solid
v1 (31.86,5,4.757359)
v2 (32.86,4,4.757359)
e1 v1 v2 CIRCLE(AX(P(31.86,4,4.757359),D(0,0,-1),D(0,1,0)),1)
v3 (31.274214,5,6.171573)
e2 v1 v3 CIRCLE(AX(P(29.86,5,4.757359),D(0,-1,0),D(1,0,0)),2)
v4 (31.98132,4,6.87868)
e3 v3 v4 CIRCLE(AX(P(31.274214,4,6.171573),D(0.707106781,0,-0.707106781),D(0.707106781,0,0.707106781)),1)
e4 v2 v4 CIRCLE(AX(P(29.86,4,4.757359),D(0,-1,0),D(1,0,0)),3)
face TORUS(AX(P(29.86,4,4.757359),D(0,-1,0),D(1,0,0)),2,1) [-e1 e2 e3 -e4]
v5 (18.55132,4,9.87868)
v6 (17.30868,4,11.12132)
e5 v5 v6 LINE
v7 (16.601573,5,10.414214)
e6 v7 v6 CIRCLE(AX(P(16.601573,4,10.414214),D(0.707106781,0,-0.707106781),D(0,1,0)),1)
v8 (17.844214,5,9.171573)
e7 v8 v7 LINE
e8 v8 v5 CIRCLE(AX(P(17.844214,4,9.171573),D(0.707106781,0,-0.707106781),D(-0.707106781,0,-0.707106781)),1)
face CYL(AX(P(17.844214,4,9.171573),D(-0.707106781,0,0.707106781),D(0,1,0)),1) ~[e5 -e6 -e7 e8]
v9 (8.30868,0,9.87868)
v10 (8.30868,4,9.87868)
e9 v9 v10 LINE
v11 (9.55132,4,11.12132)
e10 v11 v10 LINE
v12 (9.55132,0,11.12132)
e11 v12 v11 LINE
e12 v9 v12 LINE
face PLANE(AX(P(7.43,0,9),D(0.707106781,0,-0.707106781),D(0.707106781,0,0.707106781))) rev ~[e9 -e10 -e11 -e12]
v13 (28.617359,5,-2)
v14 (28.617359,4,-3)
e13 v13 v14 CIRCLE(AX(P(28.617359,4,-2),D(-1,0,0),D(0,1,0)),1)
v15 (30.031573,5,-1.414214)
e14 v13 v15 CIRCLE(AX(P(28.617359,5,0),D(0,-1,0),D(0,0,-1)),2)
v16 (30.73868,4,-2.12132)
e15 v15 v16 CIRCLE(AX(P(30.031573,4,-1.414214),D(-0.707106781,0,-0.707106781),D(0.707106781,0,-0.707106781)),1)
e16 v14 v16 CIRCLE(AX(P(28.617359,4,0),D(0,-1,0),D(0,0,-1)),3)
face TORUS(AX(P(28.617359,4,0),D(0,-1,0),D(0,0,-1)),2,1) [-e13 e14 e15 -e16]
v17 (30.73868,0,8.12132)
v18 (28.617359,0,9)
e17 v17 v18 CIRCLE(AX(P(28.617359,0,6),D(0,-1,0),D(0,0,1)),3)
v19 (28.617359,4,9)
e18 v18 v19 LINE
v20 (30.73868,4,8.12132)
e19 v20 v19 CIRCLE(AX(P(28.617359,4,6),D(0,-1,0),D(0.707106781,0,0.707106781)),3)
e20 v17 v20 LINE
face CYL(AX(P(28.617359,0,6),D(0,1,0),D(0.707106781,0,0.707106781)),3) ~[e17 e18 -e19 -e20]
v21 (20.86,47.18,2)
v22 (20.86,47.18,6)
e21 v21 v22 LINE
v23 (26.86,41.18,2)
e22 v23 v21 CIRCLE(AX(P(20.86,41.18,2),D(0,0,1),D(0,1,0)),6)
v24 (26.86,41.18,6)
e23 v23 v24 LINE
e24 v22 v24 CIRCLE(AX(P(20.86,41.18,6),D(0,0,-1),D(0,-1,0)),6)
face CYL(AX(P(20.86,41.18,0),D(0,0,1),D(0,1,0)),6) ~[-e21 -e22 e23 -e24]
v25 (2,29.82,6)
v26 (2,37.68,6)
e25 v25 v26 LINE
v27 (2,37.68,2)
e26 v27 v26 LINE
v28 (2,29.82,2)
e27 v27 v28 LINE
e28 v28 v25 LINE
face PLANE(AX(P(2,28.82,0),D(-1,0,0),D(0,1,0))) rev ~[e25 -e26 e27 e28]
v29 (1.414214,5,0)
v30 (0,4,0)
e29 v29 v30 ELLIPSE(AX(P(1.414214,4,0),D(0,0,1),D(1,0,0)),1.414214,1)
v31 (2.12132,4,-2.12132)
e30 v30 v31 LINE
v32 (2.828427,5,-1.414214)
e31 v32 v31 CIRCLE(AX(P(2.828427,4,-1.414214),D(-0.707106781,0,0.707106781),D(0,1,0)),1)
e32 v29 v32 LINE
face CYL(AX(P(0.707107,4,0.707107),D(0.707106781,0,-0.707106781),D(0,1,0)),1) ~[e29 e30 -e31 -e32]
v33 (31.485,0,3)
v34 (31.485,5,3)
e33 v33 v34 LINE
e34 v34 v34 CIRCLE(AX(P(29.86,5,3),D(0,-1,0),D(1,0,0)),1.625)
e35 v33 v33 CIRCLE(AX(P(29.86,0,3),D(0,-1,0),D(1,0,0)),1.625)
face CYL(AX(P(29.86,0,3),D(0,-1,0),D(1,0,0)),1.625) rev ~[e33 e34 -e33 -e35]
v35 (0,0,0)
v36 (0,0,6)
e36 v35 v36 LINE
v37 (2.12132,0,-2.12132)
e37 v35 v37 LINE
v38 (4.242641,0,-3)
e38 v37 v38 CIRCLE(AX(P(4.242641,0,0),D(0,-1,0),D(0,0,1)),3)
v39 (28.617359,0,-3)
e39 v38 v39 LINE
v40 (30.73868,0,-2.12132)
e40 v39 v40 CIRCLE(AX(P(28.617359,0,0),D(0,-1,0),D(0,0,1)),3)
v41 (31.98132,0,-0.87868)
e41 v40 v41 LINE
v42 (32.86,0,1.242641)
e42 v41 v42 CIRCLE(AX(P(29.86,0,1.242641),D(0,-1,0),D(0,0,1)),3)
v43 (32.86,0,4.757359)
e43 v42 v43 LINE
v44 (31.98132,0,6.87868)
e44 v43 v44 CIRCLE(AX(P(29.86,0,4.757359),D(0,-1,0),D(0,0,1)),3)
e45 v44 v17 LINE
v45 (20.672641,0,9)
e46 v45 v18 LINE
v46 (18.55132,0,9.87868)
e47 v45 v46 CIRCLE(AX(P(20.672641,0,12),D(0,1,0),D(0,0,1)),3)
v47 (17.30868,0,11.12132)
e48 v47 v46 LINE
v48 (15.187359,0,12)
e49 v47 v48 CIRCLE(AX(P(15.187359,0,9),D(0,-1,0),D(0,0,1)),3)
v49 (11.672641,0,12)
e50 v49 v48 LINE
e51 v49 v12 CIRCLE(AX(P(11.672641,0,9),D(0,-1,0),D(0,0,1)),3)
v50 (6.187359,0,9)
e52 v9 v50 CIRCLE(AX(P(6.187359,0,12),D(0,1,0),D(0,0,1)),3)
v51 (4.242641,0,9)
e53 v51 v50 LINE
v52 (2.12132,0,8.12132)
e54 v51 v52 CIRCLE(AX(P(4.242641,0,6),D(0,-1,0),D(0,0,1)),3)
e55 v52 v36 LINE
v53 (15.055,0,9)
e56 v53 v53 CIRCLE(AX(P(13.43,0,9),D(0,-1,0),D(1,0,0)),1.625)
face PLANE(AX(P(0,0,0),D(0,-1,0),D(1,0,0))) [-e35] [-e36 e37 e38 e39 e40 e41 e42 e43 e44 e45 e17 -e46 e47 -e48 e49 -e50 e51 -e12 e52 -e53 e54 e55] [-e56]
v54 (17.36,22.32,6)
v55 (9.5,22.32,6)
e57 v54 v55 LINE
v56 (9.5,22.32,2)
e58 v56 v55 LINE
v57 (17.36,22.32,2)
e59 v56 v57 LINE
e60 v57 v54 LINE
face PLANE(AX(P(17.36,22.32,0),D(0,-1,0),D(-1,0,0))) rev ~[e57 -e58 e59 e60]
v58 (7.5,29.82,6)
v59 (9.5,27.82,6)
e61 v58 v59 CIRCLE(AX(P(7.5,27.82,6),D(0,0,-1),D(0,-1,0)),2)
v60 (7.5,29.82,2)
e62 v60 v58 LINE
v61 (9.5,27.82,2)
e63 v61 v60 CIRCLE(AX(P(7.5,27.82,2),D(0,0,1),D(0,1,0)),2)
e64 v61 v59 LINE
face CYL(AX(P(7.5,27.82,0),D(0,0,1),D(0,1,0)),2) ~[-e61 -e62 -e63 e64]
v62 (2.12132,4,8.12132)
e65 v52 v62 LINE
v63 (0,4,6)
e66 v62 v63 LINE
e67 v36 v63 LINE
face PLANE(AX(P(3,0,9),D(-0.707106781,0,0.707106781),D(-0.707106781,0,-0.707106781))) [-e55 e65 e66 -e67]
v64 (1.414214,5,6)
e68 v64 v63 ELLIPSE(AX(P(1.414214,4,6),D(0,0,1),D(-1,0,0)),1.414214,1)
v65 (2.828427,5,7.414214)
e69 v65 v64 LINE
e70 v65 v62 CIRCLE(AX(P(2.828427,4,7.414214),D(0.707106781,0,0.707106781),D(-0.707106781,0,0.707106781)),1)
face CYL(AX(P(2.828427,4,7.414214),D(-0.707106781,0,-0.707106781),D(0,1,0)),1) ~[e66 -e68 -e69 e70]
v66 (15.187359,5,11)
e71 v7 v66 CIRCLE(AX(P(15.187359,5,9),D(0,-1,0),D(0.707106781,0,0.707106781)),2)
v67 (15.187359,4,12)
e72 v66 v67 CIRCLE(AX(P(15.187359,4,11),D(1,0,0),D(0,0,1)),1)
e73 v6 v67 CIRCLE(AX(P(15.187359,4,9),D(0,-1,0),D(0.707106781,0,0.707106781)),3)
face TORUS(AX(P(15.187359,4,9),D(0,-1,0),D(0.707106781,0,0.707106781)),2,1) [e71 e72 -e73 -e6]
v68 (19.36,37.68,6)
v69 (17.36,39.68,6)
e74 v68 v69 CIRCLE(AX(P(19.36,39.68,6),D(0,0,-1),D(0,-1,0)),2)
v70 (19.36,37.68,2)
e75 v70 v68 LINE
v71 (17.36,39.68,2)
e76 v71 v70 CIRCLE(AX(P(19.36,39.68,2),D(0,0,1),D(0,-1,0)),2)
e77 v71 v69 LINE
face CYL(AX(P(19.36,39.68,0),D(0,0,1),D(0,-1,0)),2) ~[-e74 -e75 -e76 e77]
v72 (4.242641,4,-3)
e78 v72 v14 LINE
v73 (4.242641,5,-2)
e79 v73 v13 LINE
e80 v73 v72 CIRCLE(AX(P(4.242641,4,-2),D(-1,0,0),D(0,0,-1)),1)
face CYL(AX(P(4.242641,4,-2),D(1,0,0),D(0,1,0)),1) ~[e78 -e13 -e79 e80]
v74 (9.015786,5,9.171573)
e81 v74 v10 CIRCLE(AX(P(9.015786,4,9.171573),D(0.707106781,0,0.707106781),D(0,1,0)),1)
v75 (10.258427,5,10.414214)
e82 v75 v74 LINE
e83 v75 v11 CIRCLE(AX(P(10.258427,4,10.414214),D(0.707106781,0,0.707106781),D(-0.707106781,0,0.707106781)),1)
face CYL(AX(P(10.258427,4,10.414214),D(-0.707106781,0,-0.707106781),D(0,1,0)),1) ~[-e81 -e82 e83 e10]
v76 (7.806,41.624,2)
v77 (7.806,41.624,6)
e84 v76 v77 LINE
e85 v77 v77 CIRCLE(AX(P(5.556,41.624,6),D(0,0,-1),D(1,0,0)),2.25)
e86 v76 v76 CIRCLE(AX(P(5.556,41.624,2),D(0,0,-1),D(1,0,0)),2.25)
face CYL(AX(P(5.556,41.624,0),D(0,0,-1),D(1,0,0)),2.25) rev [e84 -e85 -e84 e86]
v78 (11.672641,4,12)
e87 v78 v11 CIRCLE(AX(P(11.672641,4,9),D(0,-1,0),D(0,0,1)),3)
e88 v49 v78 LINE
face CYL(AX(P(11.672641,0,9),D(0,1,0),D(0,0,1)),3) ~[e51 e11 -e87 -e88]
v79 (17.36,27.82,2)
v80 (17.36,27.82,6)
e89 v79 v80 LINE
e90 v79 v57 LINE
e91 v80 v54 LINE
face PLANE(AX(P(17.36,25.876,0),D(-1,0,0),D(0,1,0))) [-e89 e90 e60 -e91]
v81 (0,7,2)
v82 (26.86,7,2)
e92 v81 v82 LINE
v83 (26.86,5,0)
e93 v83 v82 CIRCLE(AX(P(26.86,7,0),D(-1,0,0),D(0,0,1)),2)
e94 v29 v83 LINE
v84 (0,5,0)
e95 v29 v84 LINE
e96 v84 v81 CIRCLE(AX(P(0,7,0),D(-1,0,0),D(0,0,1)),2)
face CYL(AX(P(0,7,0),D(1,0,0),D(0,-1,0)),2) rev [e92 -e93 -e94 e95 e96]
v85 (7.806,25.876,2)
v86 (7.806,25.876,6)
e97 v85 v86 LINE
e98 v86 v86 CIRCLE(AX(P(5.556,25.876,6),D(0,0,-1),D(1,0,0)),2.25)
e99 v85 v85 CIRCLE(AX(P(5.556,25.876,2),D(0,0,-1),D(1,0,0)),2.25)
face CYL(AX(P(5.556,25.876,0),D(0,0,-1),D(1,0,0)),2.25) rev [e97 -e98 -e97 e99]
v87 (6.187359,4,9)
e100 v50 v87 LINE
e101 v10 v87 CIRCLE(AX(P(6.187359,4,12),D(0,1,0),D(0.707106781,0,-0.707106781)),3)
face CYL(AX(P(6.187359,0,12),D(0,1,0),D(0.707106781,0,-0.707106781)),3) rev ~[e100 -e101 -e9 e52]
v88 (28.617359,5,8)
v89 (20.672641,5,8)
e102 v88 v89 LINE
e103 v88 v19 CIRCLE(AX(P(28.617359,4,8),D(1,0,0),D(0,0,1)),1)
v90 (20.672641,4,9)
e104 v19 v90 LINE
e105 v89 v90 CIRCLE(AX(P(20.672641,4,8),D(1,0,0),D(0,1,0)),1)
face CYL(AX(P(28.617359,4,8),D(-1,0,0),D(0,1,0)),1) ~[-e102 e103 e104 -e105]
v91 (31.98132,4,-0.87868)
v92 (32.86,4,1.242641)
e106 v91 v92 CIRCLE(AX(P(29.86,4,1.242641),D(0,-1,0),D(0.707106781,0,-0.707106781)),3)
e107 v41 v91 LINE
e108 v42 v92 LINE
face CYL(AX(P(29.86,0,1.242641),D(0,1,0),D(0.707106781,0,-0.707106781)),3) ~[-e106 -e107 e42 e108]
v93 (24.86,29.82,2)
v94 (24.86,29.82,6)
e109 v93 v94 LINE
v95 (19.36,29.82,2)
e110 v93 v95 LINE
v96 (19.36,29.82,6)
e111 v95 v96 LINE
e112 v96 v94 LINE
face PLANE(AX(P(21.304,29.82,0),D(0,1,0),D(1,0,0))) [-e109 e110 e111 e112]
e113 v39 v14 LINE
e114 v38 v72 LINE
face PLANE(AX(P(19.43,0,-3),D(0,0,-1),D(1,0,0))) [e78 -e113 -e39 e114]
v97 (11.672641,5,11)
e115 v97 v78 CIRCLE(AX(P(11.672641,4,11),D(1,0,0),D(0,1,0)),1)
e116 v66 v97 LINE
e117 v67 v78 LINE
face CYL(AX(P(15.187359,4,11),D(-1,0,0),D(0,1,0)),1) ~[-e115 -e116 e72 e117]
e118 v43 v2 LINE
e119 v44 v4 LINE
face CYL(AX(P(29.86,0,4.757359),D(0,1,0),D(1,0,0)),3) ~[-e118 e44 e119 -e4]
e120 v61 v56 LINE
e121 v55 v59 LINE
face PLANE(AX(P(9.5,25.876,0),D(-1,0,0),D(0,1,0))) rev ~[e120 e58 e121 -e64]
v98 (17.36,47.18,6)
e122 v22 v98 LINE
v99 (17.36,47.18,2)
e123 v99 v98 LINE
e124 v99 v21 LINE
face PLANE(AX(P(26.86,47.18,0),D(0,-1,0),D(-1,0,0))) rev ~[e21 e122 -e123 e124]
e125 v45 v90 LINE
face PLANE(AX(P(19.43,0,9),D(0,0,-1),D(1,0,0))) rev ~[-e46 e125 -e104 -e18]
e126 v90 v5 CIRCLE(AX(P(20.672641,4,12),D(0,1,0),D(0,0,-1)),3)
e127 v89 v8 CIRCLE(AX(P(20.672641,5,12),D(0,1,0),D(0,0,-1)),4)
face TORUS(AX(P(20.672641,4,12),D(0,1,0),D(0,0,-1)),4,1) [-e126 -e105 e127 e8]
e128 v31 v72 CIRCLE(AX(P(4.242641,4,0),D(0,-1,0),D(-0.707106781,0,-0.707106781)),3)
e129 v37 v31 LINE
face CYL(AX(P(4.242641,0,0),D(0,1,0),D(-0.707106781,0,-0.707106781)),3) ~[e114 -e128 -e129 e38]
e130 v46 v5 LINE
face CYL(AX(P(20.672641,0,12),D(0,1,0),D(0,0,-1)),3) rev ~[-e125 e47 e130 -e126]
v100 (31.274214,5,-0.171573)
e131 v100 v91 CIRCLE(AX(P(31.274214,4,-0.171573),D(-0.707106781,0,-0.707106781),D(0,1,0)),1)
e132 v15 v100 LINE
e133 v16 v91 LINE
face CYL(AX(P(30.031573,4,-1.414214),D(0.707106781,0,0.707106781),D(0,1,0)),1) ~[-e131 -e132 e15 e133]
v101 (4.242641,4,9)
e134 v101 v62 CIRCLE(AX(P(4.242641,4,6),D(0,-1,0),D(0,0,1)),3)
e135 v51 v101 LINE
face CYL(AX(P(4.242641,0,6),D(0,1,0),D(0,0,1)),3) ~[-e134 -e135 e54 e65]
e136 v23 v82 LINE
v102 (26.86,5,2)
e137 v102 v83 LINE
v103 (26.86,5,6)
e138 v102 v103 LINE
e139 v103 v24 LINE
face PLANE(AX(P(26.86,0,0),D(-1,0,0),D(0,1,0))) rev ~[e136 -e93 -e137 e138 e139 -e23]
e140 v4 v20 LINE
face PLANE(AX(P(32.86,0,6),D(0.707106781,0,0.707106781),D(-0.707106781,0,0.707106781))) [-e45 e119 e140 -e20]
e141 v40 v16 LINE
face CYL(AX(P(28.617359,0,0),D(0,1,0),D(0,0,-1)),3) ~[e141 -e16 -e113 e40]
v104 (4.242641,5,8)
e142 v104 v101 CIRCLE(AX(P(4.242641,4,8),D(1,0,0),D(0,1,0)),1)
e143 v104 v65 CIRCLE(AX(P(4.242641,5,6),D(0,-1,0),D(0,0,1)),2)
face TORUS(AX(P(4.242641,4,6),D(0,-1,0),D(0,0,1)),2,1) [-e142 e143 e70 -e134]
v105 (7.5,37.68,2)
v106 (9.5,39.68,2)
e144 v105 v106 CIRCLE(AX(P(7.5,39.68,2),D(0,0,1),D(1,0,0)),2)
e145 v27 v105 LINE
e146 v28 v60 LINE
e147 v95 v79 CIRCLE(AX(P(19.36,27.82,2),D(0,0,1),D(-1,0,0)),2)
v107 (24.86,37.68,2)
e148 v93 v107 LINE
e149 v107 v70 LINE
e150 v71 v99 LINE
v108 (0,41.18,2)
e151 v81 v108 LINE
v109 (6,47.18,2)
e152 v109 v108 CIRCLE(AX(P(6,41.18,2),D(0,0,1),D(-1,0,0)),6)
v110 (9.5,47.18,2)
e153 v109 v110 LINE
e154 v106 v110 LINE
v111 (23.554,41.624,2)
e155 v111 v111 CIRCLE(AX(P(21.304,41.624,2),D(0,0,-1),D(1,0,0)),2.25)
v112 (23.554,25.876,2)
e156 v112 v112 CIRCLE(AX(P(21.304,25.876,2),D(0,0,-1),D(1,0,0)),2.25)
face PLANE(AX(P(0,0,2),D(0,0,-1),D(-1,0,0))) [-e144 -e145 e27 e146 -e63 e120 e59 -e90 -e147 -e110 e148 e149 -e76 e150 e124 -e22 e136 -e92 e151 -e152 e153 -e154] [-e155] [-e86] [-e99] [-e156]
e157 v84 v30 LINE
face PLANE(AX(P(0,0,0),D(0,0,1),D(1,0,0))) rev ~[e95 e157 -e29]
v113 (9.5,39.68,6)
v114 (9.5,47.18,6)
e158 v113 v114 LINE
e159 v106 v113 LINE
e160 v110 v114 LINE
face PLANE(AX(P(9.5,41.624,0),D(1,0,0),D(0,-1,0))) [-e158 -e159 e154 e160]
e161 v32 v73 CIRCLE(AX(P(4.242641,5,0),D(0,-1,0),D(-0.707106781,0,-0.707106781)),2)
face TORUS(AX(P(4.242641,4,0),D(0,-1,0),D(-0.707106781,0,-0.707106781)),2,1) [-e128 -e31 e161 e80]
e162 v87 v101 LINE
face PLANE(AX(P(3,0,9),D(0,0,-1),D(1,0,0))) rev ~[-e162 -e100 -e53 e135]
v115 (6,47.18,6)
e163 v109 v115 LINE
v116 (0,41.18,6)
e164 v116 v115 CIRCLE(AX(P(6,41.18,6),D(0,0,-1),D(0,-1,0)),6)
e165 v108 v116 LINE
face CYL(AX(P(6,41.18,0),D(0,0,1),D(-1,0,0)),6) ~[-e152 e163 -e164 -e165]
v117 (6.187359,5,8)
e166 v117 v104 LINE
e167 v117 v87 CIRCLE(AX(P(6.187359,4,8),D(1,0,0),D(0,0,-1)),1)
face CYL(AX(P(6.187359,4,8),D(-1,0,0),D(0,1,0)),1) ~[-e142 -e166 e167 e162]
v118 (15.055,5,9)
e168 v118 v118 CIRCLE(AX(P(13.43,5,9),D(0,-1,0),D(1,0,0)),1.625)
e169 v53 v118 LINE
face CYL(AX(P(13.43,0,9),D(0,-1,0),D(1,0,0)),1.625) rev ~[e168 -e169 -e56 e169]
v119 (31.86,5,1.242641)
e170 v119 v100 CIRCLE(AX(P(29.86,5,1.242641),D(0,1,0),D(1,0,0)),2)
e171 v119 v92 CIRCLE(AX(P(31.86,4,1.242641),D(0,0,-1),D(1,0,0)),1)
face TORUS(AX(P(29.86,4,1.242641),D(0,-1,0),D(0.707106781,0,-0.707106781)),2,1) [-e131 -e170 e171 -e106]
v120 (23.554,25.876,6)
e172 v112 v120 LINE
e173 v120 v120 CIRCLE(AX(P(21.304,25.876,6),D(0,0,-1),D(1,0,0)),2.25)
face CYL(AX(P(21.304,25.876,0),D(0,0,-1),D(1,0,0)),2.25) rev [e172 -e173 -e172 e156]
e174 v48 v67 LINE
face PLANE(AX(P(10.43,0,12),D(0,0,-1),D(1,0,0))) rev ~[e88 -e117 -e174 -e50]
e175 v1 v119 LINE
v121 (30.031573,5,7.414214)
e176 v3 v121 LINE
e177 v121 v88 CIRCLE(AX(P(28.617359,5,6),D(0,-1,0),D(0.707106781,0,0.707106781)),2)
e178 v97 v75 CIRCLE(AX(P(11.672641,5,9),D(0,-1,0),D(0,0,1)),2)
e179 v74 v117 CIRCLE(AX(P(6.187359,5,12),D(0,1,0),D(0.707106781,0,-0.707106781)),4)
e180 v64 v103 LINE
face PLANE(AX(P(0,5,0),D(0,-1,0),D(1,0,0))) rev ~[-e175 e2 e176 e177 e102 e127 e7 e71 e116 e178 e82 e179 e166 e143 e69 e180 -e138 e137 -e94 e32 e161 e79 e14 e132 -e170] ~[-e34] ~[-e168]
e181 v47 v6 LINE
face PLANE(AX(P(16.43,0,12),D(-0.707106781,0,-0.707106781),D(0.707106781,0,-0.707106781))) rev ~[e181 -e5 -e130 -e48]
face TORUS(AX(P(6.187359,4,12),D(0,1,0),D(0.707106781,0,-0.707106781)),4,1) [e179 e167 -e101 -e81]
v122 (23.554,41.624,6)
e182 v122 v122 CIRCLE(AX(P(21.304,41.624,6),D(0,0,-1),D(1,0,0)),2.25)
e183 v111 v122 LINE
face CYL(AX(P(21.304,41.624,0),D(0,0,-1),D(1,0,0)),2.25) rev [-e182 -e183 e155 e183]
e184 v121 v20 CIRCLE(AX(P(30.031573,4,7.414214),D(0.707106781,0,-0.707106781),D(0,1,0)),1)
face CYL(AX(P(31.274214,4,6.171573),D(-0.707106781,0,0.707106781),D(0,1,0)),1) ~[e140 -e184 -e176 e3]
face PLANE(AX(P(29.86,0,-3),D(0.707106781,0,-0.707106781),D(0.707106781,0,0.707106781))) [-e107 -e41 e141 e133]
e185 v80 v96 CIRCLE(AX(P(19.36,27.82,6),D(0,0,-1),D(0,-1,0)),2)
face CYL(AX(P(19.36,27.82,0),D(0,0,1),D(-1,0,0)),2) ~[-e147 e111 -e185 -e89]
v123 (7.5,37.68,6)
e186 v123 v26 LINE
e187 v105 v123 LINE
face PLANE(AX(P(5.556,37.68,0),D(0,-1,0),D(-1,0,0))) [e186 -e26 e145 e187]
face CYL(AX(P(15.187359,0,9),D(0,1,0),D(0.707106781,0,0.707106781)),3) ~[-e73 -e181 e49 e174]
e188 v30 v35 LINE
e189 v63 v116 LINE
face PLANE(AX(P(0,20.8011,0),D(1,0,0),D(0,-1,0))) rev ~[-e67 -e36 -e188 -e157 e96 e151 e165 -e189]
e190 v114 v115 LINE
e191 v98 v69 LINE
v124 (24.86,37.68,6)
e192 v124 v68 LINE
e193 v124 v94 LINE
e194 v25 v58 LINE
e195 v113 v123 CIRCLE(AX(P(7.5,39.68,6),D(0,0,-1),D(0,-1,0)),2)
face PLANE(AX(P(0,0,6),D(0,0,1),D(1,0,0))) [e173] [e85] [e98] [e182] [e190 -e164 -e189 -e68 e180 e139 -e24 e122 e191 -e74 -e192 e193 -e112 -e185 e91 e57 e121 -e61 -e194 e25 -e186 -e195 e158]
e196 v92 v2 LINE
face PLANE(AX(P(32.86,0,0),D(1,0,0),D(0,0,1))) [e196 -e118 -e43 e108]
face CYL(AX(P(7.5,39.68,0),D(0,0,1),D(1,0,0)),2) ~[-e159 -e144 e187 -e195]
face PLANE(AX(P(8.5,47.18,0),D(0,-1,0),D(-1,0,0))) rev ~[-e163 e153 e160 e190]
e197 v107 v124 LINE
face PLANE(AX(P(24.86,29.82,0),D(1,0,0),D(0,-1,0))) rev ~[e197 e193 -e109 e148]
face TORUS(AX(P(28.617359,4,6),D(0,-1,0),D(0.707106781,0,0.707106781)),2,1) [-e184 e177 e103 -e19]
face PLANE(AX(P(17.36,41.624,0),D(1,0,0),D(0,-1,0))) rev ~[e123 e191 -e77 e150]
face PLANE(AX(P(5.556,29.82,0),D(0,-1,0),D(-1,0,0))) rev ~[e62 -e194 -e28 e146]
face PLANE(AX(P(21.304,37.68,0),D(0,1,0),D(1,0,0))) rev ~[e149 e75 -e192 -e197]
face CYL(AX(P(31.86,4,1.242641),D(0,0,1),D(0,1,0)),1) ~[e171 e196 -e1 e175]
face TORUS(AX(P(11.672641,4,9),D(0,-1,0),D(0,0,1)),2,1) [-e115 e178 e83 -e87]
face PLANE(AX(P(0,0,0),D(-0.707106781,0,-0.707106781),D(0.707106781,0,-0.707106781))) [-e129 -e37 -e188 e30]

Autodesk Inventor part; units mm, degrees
ref_plane "YZ Plane" through (0, 0, 0) normal (1, 0, 0) x (0, 1, 0)
ref_plane "XZ Plane" through (0, 0, 0) normal (0, 1, 0) x (-1, 0, 0)
ref_plane "XY Plane" through (0, 0, 0) normal (0, 0, 1) x (1, 0, 0)
sketch "Sketch1" plane through (0, 0, 0) normal (0, 0, 1) x (1, 0, 0)
  line L0 (0, 0) -> (26.86, 0)
  line L1 (26.86, 0) -> (26.86, 47.18)
  line L2 (26.86, 47.18) -> (0, 47.18)
  line L3 (0, 47.18) -> (0, 0)
  line L4 (2, 38.68) -> (8.5, 38.68)
  line L5 (8.5, 38.68) -> (8.5, 45.18)
  line L6 (8.5, 45.18) -> (18.36, 45.18)
  line L7 (18.36, 45.18) -> (18.36, 38.68)
  line L8 (18.36, 38.68) -> (24.86, 38.68)
  line L9 (24.86, 38.68) -> (24.86, 28.82)
  line L10 (24.86, 28.82) -> (18.36, 28.82)
  line L11 (18.36, 28.82) -> (18.36, 22.32)
  line L12 (18.36, 22.32) -> (8.5, 22.32)
  line L13 (8.5, 22.32) -> (8.5, 28.82)
  line L14 (2, 28.82) -> (2, 38.68)
  line L15 (2, 28.82) -> (8.5, 28.82)
  line L16 (2, 33.75) -> (24.86, 33.75) construction
  line L17 (13.43, 47.18) -> (13.43, 0) construction
  circle A0 centre (5.556, 41.624) radius 2.25
  circle A1 centre (5.556, 25.876) radius 2.25
  circle A2 centre (21.304, 25.876) radius 2.25
  circle A3 centre (21.304, 41.624) radius 2.25
  line L18 (8.5, 45.18) -> (8.5, 47.18)
  line L19 (18.36, 45.18) -> (18.36, 47.18)
  line L20 (5.556, 41.624) -> (21.304, 41.624)
  line L21 (21.304, 41.624) -> (21.304, 25.876)
  line L22 (21.304, 25.876) -> (5.556, 25.876)
  line L23 (5.556, 25.876) -> (5.556, 41.624)
  line L24 (26.86, 47.18) -> (17.36, 47.18)
  line L25 (17.36, 47.18) -> (17.36, 37.68)
  line L26 (17.36, 37.68) -> (26.86, 37.68)
  line L27 (26.86, 37.68) -> (26.86, 47.18)
  line L28 (0, 47.18) -> (9.5, 47.18)
  line L29 (9.5, 47.18) -> (9.5, 37.68)
  line L30 (9.5, 37.68) -> (0, 37.68)
  line L31 (0, 37.68) -> (0, 47.18)
  line L32 (0, 20.8011) -> (9.5, 20.8011)
  line L33 (9.5, 20.8011) -> (9.5, 29.82)
  line L34 (9.5, 29.82) -> (0, 29.82)
  line L35 (0, 29.82) -> (0, 20.8011)
  line L36 (26.86, 20.8011) -> (17.36, 20.8011)
  line L37 (17.36, 20.8011) -> (17.36, 29.82)
  line L38 (17.36, 29.82) -> (26.86, 29.82)
  line L39 (26.86, 29.82) -> (26.86, 20.8011)
  point P0 (13.43, 33.75)
  point P1 (5.25, 38.68)
  point P2 (9.5, 22.32)
  point P3 (2, 29.82)
  point P4 (5.556, 28.82)
  point P5 (5.556, 28.126)
  point P6 (7.806, 25.876)
  point P7 (8.5, 25.876)
  point P8 (17.36, 22.32)
  point P9 (18.36, 25.876)
  point P10 (19.054, 25.876)
  point P11 (21.304, 28.126)
  point P12 (21.304, 28.82)
  point P13 (24.86, 29.82)
  point P14 (24.86, 37.68)
  point P15 (21.304, 38.68)
  point P16 (21.304, 39.374)
  point P17 (19.054, 41.624)
  point P18 (18.36, 41.624)
  point P19 (8.5, 41.624)
  point P20 (7.806, 41.624)
  point P21 (5.556, 39.374)
  point P22 (5.556, 38.68)
  point P23 (2, 37.68)
  dimension "d0" = 47.18
  dimension "d1" = 26.86
  dimension "d2" = 6.5
  dimension "d3" = 22.86
  dimension "d4" = 2
  dimension "d5" = 4.5
  dimension "d6" = 2.944
  dimension "d7" = 2.944
  dimension "d19" = 15.748
  dimension "d20" = 15.748
  dimension "d21" = 1
  dimension "d22" = 1
  dimension "d23" = 1
  dimension "d24" = 1
extrude "Extrusion1" add sketch "Sketch1" along normal blind 6 contours L3 L32 L33 L12 L37 L36 L1 L0 | L3 L34 L14 L15 L23 A1 L22 L13 L12 L33 L32 | L36 L37 L12 L11 L22 A2 L21 L10 L9 L38 L1 | L3 L30 L14 L34 | L38 L9 L26 L1 | L3 L2 L18 L5 L20 A0 L23 L4 L14 L30 | L26 L9 L8 L21 A3 L20 L7 L19 L2 L1 | L15 L13 L22 A1 L23 | L21 A2 L22 L11 L10 | L23 A0 L20 L5 L4 | L8 L7 L20 A3 L21
fillet "Fillet1" radius 2 4 edges at (8.5, 28.82, 3) (18.36, 28.82, 3) (8.5, 38.68, 3) (18.36, 38.68, 3)
fillet "Fillet2" radius 6 2 edges at (0, 47.18, 3) (26.86, 47.18, 3)
sketch "Sketch2" plane through (0, 0, 6) normal (0, 0, 1) x (1, 0, 0)
  line L0 (8.5, 45.18) -> (18.36, 45.18)
  line L1 (24.86, 38.68) -> (24.86, 28.82) projected
  line L2 (18.36, 22.32) -> (8.5, 22.32) projected
  line L3 (2, 28.82) -> (2, 38.68) projected
  circle A0 centre (13.43, 33.75) radius 11.43
  point P0 (0, 0)
sketch "Sketch3" plane through (0, 0, 0) normal (0, -1, 0) x (1, 0, 0)
  line L0 (0, 0) -> (26.86, 0) projected
  line L1 (26.86, 0) -> (26.86, 6) projected
  line L2 (0, 6) -> (26.86, 6) projected
  line L3 (0, 0) -> (0, 6) construction
  line L4 (32.86, 6) -> (32.86, 0) construction
  line L5 (32.86, 0) -> (-6, 0) construction
  line L6 (0, 6) -> (26.86, 6) construction
  line L7 (0, 0) -> (26.86, 0) construction
  line L8 (13.43, 6) -> (13.43, 0) construction
  line L9 (13.43, 6) -> (13.43, 0) construction
  circle A0 centre (29.86, 3) radius 1.625
  line L10 (26.86, 6) -> (32.86, 0) construction
  circle A1 centre (13.43, 9) radius 1.625
  line L11 (29.86, -3) -> (32.86, 0) construction
  line L12 (29.86, 9) -> (32.86, 6) construction
  line L13 (0, 0) -> (0, 6) construction
  line L14 (0, 6) -> (0, 0) construction
  line L15 (26.86, 0) -> (26.86, 6) construction
  line L16 (26.86, 6) -> (26.86, 0) construction
  line L17 (0, 0) -> (0, 6) construction
  line L18 (0, 6) -> (3, 9) construction
  line L19 (3, 9) -> (7.43, 9)
  line L20 (7.43, 9) -> (10.43, 12)
  line L21 (10.43, 12) -> (16.43, 12)
  line L22 (16.43, 12) -> (19.43, 9)
  line L23 (19.43, 9) -> (29.86, 9)
  line L24 (26.86, 6) -> (26.86, 0) construction
  line L25 (13.43, 12) -> (13.43, 6) construction
  line L26 (7.43, 9) -> (19.43, 9) construction
  line L27 (18.36, 6) -> (8.5, 6) construction
  line L28 (0, 0) -> (3, -3) construction
  line L29 (3, -3) -> (29.86, -3)
  line L30 (0, 3) -> (32.86, 3) construction
  circle A2 centre (13.43, -3) radius 1.625 construction
  line L31 (7.43, -3) -> (10.43, -6) construction
  line L32 (10.43, -6) -> (16.43, -6) construction
  line L33 (16.43, -6) -> (19.43, -3) construction
  line L34 (0, 0) -> (3, -3)
  line L35 (3, -3) -> (7.43, -3)
  line L36 (19.43, -3) -> (29.86, -3)
  line L37 (29.86, -3) -> (32.86, 0)
  line L38 (32.86, 0) -> (32.86, 6)
  line L39 (32.86, 6) -> (29.86, 9)
  line L40 (29.86, 9) -> (3, 9) construction
  line L41 (3, 9) -> (0, 6)
  point P0 (13.43, 3)
  point P1 (26.86, 3)
  dimension "d12" = 6
  dimension "d13" = 3.25
  dimension "d28" = 3
  dimension "d29" = 6
  dimension "d30" = 6
  dimension "d31" = 135
  dimension "d32" = 3.25
  dimension "d33" = 3
  dimension "d36" = 6
extrude "Extrusion2" add sketch "Sketch3" against normal blind 5
extrude "Extrusion3" add sketch "Sketch1" along normal blind 6 contours L34 L23 L15 L14 | L12 L13 L22 L33 | L9 L10 L21 L38 | L37 L22 L11 L12 | L14 L4 L23 L30 | L34 L33 L22 L13 L15 L23 | L26 L21 L8 L9 | L21 L10 L11 L22 L37 L38 | L2 L29 L6 L18 | L23 L4 L5 L20 L29 L30 | L15 L13 L22 A1 L23 | L19 L6 L25 L2 | L26 L25 L20 L7 L8 L21 | L21 A2 L22 L11 L10 | L6 L29 L20 L5 | L23 A0 L20 L5 L4 | L7 L20 L25 L6 | L8 L7 L20 A3 L21
fillet "Fillet4" radius 2 4 edges at (9.5, 37.68, 3) (17.36, 37.68, 3) (9.5, 29.82, 3) (17.36, 29.82, 3)
fillet "Fillet9" radius 3 10 edges at (3, 2.5, 9) (7.43, 2.5, 9) (10.43, 2.5, 12) (16.43, 2.5, 12) (19.43, 2.5, 9) (29.86, 2.5, 9) (32.86, 2.5, 6) (32.86, 2.5, 0) (29.86, 2.5, -3) (3, 2.5, -3)
fillet "Fillet10" radius 1 21 edges at (3.0946, 5, -2.7716) (1.0607, 5, -1.0607) (29.7654, 5, -2.7716) (31.36, 5, -1.5) (32.6316, 5, 0.0946) (32.86, 5, 3) (32.6316, 5, 5.9054) (31.36, 5, 7.5) (29.7654, 5, 8.7716) (24.645, 5, 9) (19.5246, 5, 9.2284) (17.93, 5, 10.5) (16.3354, 5, 11.7716) (13.43, 5, 12) (10.5246, 5, 11.7716) (8.93, 5, 10.5) (7.3354, 5, 9.2284) (5.215, 5, 9) (3.0946, 5, 8.7716) (1.0607, 5, 7.0607) (16.43, 5, -3)
sketch "Sketch4" plane through (0, 0, 0) normal (0, 0, -1) x (-1, 0, 0)
  line L0 (-33.4061, 50.4352) -> (8.6296, 50.4352)
  line L1 (8.6296, 50.4352) -> (8.6296, 5)
  line L2 (8.6296, 5) -> (-33.4061, 5)
  line L3 (-33.4061, 5) -> (-33.4061, 50.4352)
  line L4 (-4.2426, 5) -> (-28.6174, 5) projected
  point P0 (0, 0)
extrude "Extrusion4" cut sketch "Sketch4" against normal blind 2
fillet "Fillet11" radius 2 1 edges at (13.43, 5, 2)
equation "\"d29\" = 2 * d28"
equation "\"d30\" = d29"
equation "\"d32\" = d13"
properties part number "as5600mount_2"
